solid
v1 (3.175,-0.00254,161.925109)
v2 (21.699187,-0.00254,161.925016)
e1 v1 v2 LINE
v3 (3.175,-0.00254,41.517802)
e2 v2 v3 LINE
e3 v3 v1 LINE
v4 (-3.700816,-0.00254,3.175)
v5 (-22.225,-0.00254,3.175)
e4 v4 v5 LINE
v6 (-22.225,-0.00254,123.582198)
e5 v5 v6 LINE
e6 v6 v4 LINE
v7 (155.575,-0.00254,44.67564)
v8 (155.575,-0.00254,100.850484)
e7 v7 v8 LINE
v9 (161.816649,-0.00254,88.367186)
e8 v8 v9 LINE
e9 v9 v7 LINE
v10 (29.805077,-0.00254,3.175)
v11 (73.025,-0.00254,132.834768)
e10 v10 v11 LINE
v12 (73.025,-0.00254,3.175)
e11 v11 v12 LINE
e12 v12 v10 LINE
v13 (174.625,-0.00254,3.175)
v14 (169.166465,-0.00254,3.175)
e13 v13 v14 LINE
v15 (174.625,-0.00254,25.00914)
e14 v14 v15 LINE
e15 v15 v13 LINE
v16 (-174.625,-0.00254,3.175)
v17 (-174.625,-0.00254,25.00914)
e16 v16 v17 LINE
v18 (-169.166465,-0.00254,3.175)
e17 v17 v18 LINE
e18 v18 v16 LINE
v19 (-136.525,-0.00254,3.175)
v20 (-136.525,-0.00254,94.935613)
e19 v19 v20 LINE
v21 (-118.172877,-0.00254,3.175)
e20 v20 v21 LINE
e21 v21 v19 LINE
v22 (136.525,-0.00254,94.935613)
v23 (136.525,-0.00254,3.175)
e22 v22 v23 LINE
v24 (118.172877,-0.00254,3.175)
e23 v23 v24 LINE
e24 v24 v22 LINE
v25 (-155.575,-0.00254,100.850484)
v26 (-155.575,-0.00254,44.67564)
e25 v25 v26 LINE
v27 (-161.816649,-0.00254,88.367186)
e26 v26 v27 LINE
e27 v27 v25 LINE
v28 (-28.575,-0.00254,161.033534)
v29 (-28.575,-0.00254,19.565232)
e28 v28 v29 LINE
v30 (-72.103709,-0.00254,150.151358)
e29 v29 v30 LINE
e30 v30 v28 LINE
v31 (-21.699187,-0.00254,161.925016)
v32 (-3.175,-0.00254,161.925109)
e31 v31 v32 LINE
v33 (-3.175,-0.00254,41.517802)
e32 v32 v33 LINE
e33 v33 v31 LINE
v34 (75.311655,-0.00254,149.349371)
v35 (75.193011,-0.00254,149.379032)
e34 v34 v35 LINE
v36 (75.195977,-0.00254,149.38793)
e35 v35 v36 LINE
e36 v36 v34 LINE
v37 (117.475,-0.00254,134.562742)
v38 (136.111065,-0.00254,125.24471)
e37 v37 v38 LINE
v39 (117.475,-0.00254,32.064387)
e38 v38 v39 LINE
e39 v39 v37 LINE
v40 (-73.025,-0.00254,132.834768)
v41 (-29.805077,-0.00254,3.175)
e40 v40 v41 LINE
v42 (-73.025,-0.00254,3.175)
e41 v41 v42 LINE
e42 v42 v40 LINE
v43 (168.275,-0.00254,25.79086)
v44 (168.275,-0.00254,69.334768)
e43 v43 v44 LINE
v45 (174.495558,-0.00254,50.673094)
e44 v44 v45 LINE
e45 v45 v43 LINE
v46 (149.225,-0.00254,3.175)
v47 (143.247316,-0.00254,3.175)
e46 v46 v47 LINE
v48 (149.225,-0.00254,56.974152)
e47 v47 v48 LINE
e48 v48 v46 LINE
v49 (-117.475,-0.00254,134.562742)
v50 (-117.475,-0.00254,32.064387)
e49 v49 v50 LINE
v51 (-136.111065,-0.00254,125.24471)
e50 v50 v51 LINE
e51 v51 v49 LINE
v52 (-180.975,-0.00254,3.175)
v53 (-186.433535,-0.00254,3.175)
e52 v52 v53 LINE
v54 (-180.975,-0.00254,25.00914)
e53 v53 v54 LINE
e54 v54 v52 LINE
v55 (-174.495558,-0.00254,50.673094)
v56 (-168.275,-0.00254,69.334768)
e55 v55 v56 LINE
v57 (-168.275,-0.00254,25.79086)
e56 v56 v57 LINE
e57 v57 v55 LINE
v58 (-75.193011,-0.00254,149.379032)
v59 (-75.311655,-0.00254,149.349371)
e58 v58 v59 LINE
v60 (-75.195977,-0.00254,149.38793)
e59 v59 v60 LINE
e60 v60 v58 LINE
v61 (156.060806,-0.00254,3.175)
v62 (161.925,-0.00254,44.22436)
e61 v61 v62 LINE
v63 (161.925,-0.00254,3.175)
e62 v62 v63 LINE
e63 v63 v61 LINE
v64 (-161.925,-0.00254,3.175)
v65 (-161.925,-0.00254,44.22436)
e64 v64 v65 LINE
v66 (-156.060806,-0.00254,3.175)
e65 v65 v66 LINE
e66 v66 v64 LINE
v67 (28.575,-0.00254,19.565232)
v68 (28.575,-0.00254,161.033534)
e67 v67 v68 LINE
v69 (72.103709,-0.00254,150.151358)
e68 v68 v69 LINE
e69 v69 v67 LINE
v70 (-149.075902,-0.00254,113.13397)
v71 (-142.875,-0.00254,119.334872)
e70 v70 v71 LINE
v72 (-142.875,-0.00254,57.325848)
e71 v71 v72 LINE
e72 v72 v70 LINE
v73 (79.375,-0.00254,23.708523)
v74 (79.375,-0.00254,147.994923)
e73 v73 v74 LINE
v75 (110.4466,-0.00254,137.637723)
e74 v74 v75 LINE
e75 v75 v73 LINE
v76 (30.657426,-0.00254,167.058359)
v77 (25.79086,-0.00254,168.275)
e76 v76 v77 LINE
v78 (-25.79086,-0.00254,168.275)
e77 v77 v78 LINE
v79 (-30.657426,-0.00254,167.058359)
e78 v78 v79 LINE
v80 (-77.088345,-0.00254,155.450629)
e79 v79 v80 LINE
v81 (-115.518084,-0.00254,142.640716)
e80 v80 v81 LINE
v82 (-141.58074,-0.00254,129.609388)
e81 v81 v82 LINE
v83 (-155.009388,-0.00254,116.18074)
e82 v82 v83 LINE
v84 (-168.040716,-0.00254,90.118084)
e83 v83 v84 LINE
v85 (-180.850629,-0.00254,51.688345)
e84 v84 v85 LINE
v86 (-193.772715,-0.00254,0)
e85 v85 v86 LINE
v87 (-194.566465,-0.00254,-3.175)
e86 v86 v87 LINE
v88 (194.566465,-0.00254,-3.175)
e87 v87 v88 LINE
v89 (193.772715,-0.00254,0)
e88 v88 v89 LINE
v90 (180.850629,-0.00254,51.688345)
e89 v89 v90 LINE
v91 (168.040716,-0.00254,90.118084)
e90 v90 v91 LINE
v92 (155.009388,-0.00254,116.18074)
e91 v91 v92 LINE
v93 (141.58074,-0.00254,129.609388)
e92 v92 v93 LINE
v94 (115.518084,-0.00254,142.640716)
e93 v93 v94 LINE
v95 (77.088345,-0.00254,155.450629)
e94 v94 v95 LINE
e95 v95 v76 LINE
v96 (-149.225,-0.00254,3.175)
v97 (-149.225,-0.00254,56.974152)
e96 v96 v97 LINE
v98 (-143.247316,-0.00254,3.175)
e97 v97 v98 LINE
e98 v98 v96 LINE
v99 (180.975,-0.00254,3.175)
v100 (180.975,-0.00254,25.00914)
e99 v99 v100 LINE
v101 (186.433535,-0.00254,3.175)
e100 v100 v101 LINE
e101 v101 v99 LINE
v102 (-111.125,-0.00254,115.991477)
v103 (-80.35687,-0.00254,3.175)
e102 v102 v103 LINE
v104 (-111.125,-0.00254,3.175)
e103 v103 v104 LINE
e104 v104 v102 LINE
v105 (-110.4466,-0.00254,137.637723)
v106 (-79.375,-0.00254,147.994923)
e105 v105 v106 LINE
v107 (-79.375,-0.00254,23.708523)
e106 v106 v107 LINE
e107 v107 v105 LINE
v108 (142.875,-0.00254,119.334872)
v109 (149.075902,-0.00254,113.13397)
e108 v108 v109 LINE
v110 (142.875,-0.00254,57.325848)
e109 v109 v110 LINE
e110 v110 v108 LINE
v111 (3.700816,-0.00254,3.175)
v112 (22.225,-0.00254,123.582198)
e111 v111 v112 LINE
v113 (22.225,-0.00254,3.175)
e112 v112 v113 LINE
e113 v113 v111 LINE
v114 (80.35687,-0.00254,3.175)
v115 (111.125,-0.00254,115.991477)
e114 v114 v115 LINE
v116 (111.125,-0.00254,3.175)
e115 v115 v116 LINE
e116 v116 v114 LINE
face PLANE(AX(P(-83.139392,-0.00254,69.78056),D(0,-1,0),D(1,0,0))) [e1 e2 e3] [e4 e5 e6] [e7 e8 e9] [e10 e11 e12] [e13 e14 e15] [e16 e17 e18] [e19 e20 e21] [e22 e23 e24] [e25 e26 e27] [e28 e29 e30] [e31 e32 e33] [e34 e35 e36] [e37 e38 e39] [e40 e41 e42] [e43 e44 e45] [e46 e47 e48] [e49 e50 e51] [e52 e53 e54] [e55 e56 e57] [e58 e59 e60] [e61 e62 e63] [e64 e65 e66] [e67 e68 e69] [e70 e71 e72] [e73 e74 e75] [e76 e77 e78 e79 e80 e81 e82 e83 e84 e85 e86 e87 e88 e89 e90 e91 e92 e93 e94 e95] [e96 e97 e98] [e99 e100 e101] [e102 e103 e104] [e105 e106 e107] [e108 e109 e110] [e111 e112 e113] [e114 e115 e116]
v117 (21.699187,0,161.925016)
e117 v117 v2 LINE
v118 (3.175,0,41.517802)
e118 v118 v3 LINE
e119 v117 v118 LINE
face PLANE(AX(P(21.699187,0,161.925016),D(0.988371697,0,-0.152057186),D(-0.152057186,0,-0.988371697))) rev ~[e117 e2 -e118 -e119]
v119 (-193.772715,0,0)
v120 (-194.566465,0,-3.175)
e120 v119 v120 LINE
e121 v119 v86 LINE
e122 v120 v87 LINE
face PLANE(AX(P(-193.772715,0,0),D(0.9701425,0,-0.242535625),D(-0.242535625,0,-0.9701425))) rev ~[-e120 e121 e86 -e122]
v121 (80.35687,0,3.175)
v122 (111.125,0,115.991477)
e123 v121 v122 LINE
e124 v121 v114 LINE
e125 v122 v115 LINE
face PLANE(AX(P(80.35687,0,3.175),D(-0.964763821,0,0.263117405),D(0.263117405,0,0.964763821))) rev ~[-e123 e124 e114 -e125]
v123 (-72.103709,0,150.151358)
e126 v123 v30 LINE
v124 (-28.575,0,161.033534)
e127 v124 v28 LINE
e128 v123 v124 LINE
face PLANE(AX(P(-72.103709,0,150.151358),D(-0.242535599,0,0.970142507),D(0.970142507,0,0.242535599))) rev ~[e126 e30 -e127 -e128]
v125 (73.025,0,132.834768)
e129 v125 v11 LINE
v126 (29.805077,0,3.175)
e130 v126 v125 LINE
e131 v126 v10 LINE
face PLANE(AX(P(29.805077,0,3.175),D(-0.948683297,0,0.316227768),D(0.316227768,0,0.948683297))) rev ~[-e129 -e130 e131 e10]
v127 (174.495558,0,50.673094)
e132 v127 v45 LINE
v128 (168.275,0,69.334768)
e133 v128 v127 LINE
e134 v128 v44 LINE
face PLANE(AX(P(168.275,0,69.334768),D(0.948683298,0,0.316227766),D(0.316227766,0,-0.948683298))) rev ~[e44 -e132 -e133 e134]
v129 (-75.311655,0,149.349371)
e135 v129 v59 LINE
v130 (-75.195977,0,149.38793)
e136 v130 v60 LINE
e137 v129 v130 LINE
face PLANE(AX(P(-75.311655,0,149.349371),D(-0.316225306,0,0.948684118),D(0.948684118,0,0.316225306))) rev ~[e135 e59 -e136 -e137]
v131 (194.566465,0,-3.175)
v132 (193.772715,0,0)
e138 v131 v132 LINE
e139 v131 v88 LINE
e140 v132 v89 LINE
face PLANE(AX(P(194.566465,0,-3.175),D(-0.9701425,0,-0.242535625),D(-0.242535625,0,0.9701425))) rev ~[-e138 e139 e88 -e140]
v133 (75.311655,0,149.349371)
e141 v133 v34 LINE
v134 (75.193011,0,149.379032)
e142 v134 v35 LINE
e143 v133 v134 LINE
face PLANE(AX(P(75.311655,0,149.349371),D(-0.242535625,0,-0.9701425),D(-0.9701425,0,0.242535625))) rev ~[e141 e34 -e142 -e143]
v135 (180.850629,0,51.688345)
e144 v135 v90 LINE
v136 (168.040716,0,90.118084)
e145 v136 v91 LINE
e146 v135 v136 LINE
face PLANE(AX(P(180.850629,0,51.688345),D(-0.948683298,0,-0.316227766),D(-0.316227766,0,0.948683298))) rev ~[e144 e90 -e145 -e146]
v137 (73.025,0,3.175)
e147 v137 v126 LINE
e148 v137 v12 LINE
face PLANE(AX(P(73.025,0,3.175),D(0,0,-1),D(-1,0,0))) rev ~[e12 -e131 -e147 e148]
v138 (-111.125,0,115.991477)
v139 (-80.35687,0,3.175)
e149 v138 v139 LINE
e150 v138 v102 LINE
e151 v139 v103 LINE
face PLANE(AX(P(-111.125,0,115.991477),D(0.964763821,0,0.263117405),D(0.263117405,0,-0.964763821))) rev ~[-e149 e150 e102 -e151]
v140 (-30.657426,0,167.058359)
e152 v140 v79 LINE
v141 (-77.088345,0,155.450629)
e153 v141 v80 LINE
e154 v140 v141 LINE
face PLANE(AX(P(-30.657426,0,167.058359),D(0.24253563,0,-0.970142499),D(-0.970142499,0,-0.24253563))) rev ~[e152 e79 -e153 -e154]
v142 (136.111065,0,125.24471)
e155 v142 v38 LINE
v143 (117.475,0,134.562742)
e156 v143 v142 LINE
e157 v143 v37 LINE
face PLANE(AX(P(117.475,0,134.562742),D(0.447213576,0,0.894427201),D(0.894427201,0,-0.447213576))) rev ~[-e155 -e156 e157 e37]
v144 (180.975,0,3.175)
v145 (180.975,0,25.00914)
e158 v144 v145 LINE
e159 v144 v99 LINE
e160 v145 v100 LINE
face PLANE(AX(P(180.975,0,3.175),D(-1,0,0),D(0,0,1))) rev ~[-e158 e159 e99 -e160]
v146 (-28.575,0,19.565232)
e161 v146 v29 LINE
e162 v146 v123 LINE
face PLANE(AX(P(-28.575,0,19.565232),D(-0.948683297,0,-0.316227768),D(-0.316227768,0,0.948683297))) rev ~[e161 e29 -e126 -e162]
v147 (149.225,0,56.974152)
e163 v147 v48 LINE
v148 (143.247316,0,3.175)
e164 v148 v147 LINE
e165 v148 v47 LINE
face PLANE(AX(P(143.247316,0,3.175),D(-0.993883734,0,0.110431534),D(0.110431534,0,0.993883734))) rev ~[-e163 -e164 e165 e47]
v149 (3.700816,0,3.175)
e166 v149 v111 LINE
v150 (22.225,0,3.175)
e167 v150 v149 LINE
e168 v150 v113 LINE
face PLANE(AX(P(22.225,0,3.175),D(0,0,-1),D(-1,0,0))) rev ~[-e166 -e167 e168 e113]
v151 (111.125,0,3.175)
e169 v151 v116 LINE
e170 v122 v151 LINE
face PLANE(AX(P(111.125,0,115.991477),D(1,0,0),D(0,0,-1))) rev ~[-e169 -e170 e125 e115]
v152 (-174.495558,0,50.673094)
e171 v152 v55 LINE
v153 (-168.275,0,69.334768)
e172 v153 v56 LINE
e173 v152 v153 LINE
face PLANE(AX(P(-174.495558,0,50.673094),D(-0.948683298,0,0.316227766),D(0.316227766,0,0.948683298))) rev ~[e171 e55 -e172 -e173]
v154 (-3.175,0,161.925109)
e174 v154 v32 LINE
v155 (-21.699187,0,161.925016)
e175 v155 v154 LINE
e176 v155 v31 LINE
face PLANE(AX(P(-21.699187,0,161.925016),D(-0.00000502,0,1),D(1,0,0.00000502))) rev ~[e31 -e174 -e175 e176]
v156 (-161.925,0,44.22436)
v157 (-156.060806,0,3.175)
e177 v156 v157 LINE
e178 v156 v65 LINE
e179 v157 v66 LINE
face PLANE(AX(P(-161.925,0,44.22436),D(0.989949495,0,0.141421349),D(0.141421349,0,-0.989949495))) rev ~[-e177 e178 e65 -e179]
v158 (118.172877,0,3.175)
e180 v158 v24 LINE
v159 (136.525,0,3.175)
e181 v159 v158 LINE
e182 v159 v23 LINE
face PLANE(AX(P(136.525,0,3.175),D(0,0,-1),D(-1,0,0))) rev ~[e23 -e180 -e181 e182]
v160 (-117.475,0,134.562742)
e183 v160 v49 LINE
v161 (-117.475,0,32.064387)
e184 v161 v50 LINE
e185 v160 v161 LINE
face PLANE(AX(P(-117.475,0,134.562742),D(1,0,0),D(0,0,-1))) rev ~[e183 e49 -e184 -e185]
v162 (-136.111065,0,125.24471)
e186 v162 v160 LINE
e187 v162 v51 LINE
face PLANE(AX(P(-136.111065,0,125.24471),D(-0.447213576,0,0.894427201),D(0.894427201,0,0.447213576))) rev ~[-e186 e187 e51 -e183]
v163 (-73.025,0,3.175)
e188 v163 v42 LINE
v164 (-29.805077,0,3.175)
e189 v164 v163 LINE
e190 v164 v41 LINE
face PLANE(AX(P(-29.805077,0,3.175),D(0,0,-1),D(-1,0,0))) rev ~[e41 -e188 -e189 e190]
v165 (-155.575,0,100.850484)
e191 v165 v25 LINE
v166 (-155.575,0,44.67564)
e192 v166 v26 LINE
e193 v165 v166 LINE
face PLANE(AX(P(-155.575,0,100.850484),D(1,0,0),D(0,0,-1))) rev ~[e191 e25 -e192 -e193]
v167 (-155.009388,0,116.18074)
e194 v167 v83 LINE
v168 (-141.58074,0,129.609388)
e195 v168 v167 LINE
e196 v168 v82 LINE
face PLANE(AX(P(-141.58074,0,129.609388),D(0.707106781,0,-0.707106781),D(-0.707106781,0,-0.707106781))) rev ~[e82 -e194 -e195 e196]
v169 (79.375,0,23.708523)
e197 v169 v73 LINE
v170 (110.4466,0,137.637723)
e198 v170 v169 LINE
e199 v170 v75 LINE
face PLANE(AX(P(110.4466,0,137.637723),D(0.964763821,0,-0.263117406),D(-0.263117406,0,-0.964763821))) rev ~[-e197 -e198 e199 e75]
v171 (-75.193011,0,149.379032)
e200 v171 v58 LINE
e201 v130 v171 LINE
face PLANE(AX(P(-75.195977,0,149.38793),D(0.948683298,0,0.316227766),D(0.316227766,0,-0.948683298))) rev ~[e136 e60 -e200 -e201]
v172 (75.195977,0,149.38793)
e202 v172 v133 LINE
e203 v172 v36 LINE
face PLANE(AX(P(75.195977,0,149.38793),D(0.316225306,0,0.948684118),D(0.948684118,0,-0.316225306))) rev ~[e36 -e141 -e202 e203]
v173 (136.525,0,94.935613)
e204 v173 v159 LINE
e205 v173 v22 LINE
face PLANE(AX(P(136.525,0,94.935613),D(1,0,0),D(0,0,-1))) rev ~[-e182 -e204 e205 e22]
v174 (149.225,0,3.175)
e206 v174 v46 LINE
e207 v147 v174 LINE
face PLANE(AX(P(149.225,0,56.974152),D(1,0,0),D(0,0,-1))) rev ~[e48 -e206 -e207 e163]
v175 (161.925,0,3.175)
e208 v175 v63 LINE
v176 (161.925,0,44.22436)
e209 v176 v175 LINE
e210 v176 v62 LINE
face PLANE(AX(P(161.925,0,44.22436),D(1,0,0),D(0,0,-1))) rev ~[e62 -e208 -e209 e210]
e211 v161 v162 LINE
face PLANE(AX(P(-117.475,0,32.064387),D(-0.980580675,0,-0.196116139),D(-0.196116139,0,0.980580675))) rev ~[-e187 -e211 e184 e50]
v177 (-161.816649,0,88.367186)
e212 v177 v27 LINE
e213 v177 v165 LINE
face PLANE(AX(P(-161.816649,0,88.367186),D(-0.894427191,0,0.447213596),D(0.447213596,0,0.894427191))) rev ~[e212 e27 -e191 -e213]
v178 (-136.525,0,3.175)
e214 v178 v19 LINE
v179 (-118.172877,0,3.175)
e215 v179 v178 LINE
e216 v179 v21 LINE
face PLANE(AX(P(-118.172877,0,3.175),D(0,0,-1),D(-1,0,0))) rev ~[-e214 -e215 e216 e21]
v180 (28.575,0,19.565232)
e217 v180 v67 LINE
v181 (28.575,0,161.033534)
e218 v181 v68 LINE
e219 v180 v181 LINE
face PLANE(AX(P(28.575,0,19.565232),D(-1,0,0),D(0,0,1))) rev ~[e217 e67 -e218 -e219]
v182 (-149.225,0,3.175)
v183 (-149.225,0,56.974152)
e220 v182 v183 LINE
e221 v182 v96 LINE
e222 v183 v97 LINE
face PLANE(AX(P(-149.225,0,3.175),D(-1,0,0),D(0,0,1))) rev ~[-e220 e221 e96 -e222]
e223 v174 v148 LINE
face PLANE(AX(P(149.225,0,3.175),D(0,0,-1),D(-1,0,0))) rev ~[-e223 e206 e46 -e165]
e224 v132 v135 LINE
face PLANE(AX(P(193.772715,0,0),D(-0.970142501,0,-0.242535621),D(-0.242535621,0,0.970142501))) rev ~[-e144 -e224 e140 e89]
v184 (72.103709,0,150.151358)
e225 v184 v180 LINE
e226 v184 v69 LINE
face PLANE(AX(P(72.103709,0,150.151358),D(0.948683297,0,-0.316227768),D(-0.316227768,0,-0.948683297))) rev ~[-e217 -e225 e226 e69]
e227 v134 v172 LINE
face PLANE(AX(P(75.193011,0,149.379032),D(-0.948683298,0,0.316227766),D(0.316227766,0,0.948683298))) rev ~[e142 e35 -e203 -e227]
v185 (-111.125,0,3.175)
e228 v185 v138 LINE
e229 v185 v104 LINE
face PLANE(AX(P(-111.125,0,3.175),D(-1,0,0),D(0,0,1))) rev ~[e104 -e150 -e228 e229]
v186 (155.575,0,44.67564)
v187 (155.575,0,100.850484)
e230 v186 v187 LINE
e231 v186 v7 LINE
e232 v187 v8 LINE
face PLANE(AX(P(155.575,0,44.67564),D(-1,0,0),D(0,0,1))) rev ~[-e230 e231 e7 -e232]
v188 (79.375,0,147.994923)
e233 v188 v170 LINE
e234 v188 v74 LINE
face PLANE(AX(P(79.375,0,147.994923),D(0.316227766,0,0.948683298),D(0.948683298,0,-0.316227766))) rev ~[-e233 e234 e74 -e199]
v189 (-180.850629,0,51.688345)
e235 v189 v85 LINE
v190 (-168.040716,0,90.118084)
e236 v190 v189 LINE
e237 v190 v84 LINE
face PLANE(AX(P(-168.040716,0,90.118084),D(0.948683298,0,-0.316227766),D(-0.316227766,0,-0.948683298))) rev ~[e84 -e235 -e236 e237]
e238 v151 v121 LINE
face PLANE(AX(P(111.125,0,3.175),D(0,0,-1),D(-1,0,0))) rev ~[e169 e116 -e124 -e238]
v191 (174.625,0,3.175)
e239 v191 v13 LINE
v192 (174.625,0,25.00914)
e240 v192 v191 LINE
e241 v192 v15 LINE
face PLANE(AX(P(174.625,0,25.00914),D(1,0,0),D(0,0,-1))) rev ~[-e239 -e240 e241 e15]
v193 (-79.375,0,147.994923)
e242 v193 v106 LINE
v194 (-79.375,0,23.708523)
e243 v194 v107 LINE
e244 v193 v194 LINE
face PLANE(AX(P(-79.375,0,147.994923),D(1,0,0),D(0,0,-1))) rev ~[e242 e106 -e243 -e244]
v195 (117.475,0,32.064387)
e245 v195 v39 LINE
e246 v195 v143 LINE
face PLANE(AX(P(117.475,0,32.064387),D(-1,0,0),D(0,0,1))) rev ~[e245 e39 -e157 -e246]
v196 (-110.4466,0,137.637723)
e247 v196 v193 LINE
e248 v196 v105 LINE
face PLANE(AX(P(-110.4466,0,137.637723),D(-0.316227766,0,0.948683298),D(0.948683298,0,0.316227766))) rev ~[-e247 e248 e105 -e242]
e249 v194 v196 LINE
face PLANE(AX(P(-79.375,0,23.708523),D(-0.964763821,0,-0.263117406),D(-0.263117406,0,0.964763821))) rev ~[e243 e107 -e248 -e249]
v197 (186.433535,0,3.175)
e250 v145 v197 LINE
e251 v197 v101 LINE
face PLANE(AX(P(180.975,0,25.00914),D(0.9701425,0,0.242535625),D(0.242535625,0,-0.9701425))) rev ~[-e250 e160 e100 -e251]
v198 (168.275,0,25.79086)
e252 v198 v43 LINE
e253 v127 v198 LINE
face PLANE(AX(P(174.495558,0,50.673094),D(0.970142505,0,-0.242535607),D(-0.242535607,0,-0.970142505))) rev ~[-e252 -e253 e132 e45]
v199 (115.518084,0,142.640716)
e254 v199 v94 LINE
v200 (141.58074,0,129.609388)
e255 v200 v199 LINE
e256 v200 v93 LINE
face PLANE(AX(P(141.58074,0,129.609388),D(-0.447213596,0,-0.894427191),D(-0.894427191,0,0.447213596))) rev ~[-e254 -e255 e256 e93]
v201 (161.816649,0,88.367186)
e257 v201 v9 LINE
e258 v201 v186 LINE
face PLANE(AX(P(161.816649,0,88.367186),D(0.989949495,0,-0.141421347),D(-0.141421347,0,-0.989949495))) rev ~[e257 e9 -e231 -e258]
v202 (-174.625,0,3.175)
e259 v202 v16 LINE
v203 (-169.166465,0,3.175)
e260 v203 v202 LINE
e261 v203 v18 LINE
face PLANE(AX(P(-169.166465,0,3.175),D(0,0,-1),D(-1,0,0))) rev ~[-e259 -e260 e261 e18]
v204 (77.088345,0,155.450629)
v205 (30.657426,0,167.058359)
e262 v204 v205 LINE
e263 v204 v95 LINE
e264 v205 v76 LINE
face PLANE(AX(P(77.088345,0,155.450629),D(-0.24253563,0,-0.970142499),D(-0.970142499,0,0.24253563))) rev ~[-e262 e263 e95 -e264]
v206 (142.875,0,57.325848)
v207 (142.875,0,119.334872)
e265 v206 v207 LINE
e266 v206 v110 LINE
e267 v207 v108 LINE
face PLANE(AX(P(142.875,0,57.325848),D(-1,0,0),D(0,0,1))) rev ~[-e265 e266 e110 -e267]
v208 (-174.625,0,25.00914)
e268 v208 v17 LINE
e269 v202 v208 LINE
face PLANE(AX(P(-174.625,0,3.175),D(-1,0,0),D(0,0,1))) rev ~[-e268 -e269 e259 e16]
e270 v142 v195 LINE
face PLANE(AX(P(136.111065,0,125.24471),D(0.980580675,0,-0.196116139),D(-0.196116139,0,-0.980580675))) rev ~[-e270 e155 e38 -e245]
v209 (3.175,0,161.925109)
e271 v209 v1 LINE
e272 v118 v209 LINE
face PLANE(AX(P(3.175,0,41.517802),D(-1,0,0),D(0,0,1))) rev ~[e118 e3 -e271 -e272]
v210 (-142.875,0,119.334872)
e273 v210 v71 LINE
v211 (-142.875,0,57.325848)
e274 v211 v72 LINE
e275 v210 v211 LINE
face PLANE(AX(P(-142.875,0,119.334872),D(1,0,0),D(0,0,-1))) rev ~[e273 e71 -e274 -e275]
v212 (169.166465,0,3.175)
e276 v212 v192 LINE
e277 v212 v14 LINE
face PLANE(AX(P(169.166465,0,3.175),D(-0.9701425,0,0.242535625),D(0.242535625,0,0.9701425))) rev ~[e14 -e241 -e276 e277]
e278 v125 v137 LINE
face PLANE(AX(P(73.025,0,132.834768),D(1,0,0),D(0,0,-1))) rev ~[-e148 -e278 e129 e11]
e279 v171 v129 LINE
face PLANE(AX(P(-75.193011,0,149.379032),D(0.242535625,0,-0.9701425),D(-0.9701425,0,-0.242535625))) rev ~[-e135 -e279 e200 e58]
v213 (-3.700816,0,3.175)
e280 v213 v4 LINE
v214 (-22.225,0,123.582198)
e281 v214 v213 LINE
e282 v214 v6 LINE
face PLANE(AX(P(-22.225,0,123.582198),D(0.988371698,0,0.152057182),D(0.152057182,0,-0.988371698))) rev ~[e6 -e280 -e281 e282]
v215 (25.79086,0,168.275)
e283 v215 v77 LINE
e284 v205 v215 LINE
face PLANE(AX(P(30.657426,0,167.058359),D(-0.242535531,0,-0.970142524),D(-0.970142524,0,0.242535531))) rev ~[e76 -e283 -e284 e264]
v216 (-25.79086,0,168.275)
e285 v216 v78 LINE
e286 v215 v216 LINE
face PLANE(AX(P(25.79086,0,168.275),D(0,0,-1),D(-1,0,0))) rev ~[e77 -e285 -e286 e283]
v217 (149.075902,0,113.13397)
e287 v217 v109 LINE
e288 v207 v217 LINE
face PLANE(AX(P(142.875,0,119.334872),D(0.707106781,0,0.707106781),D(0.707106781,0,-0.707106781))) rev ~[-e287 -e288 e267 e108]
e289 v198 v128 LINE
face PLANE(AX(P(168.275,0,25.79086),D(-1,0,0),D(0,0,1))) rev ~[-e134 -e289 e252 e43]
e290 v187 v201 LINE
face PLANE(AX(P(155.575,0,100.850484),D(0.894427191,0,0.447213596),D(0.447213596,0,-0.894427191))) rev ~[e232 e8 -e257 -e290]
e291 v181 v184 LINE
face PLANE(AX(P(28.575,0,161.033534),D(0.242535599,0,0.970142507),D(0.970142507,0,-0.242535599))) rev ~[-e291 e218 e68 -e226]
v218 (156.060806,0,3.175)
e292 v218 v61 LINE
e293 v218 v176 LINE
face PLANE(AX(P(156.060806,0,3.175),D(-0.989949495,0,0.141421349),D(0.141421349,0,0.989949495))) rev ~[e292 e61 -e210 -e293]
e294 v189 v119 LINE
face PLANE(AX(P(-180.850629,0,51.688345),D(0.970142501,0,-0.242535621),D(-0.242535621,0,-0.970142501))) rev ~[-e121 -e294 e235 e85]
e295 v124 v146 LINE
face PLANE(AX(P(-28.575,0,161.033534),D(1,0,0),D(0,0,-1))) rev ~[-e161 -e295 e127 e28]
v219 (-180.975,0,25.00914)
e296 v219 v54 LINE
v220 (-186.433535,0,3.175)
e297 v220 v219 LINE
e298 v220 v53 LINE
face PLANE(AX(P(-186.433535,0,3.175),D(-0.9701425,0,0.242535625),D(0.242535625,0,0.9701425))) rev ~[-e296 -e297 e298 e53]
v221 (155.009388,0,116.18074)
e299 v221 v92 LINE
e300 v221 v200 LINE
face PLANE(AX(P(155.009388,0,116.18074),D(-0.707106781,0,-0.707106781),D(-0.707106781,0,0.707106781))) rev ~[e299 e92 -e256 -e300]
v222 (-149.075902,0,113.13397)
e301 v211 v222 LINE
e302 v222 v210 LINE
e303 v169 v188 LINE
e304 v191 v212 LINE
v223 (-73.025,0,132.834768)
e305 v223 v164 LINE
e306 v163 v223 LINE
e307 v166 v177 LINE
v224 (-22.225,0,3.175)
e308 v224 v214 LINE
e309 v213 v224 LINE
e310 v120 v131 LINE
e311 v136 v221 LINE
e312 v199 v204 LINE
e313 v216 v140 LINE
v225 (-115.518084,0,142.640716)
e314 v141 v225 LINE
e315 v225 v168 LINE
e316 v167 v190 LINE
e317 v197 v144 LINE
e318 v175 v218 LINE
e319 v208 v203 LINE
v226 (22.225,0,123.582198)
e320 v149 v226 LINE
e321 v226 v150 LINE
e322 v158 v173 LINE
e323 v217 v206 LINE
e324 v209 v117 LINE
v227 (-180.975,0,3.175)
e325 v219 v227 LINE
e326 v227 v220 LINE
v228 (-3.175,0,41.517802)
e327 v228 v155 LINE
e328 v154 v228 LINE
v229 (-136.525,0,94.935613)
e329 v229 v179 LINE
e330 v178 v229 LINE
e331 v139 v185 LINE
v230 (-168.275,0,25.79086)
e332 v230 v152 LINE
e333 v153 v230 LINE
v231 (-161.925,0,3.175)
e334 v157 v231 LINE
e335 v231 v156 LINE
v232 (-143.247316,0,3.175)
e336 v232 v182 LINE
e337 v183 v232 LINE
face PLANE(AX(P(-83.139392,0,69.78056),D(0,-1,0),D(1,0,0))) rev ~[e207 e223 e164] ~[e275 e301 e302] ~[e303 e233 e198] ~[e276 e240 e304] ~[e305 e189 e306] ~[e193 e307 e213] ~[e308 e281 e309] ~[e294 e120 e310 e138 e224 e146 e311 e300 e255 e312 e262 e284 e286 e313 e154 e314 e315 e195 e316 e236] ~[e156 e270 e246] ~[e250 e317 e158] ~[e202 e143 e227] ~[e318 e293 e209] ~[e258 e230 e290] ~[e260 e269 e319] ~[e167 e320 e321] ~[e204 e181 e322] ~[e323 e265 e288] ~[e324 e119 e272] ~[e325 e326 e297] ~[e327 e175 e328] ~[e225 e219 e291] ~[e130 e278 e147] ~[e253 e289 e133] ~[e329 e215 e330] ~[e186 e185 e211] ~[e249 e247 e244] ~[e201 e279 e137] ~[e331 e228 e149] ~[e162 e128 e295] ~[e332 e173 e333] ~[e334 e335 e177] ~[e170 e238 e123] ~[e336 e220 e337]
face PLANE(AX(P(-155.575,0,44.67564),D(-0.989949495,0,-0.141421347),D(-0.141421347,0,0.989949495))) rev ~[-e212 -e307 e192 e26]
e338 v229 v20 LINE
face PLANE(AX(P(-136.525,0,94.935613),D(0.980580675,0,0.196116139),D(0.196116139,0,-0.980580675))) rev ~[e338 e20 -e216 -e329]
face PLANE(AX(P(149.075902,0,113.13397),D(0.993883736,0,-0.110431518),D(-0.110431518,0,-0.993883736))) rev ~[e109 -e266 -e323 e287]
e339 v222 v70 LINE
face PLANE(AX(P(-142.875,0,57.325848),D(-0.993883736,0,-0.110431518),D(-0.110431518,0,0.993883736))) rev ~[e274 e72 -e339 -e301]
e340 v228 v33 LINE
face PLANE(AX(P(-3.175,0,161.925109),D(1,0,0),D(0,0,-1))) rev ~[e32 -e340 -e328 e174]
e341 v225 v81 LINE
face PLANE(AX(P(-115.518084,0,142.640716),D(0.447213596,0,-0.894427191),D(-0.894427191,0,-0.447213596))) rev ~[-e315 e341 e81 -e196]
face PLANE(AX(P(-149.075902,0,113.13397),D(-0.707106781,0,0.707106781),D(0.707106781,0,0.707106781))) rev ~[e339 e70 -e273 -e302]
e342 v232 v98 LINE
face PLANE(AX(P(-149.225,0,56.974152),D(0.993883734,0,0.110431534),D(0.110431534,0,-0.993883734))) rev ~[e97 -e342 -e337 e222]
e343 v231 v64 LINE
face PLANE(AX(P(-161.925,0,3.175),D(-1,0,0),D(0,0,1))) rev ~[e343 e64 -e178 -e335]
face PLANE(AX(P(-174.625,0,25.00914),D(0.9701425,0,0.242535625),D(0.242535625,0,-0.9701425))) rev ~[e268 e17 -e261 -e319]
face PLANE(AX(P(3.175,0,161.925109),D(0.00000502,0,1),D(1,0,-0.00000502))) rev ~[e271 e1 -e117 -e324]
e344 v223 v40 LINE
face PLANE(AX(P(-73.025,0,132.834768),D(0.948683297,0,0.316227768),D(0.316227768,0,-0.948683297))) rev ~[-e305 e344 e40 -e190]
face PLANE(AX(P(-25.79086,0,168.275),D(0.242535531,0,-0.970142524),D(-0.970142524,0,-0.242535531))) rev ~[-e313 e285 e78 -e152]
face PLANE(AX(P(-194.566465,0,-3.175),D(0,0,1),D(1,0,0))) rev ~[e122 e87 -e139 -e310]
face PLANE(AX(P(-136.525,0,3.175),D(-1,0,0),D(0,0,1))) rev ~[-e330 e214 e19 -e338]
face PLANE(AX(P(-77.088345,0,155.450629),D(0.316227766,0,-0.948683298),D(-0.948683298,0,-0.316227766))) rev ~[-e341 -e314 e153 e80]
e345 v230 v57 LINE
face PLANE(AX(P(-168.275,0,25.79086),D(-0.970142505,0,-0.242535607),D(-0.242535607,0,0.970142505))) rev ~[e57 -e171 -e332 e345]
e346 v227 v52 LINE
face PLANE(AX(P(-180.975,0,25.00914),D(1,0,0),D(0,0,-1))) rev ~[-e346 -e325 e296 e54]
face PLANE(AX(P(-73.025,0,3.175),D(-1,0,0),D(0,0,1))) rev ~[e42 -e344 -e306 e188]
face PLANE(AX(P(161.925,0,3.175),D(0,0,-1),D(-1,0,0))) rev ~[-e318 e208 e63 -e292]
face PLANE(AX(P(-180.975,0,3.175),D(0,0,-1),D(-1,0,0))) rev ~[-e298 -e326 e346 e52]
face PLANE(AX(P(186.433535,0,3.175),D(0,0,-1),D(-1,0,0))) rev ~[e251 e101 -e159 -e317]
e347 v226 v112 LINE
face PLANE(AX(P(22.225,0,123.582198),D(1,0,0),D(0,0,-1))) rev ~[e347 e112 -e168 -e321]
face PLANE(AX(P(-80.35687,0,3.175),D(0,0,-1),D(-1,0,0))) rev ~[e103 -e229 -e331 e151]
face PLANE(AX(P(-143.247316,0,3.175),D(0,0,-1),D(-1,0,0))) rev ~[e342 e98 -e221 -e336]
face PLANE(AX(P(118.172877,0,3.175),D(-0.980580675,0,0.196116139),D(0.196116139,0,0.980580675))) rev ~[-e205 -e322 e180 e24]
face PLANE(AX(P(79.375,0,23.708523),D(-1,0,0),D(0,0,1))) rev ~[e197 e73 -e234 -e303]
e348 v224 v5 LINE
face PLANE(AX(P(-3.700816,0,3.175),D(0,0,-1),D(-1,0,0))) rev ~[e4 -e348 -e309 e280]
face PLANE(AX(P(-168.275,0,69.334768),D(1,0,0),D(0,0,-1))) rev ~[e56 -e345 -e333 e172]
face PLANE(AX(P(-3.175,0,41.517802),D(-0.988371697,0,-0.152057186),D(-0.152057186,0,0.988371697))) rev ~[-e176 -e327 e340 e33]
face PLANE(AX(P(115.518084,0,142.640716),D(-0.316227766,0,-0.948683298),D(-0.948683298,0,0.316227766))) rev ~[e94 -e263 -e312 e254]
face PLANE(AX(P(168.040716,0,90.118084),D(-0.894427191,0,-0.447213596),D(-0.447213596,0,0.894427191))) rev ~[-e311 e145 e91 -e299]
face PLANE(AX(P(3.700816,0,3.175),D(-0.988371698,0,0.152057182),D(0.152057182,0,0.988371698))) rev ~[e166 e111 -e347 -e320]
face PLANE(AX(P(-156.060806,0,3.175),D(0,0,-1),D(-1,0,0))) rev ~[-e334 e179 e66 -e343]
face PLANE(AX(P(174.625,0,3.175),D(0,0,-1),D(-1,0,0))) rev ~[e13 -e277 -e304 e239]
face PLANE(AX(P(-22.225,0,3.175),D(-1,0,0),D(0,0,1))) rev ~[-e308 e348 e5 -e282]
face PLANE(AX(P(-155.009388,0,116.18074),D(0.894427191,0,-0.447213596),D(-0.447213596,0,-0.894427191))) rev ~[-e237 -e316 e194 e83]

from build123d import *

# Parameters (mm, degrees)
F1_DEPTH = 0.00254


with BuildPart() as f1:
    # F0 (on Front) → F1 (new body)
    with BuildSketch(Plane.XZ):
        Polygon((0, -3.175), (0, 0), (0, 165.1), (0, 168.275), (-25.79086, 168.275), (-30.657426, 167.058359), (-77.088345, 155.450629), (-115.518084, 142.640716), (-119.911346, 140.444085), (-141.58074, 129.609388), (-155.009388, 116.18074), (-168.040716, 90.118084), (-180.850629, 51.688345), (-193.772715, 0), (-194.566465, -3.175), align=None)
        Polygon((-180.975, 3.175), (-186.433535, 3.175), (-180.975, 25.00914), align=None, mode=Mode.SUBTRACT)
        Polygon((-169.166465, 3.175), (-174.625, 3.175), (-174.625, 25.00914), align=None, mode=Mode.SUBTRACT)
        Polygon((-161.925, 3.175), (-161.925, 44.22436), (-156.060806, 3.175), align=None, mode=Mode.SUBTRACT)
        Polygon((-149.225, 56.974152), (-143.247316, 3.175), (-149.225, 3.175), align=None, mode=Mode.SUBTRACT)
        Polygon((-168.275, 25.79086), (-174.495558, 50.673094), (-168.275, 69.334768), align=None, mode=Mode.SUBTRACT)
        Polygon((-136.525, 3.175), (-136.525, 94.935613), (-118.172877, 3.175), align=None, mode=Mode.SUBTRACT)
        Polygon((-155.575, 44.67564), (-161.816649, 88.367186), (-155.575, 100.850484), align=None, mode=Mode.SUBTRACT)
        Polygon((-80.35687, 3.175), (-111.125, 3.175), (-111.125, 115.991477), align=None, mode=Mode.SUBTRACT)
        Polygon((-73.025, 3.175), (-73.025, 132.834768), (-29.805077, 3.175), align=None, mode=Mode.SUBTRACT)
        Polygon((-3.700816, 3.175), (-22.225, 3.175), (-22.225, 123.582198), align=None, mode=Mode.SUBTRACT)
        Polygon((-142.875, 57.325848), (-149.075902, 113.13397), (-142.875, 119.334872), align=None, mode=Mode.SUBTRACT)
        Polygon((-117.475, 32.064387), (-136.111065, 125.24471), (-117.475, 134.562742), align=None, mode=Mode.SUBTRACT)
        Polygon((-79.375, 23.708523), (-110.4466, 137.637723), (-79.375, 147.994923), align=None, mode=Mode.SUBTRACT)
        Polygon((-72.103709, 150.151358), (-28.575, 161.033534), (-28.575, 19.565232), align=None, mode=Mode.SUBTRACT)
        Polygon((-21.699187, 161.925016), (-3.175, 161.925109), (-3.175, 41.517802), align=None, mode=Mode.SUBTRACT)
        Polygon((-75.311655, 149.349371), (-75.195977, 149.38793), (-75.193011, 149.379032), align=None, mode=Mode.SUBTRACT)
        Polygon((0, 165.1), (0, 0), (0, -3.175), (194.566465, -3.175), (193.772715, 0), (180.850629, 51.688345), (168.040716, 90.118084), (155.009388, 116.18074), (141.58074, 129.609388), (119.911346, 140.444085), (115.518084, 142.640716), (77.088345, 155.450629), (30.657426, 167.058359), (25.79086, 168.275), (0, 168.275), align=None)
        Polygon((174.625, 25.00914), (174.625, 3.175), (169.166465, 3.175), align=None, mode=Mode.SUBTRACT)
        Polygon((180.975, 25.00914), (186.433535, 3.175), (180.975, 3.175), align=None, mode=Mode.SUBTRACT)
        Polygon((161.925, 44.22436), (161.925, 3.175), (156.060806, 3.175), align=None, mode=Mode.SUBTRACT)
        Polygon((149.225, 56.974152), (149.225, 3.175), (143.247316, 3.175), align=None, mode=Mode.SUBTRACT)
        Polygon((111.125, 115.991477), (111.125, 3.175), (80.35687, 3.175), align=None, mode=Mode.SUBTRACT)
        Polygon((3.700816, 3.175), (22.225, 123.582198), (22.225, 3.175), align=None, mode=Mode.SUBTRACT)
        Polygon((73.025, 3.175), (29.805077, 3.175), (73.025, 132.834768), align=None, mode=Mode.SUBTRACT)
        Polygon((118.172877, 3.175), (136.525, 94.935613), (136.525, 3.175), align=None, mode=Mode.SUBTRACT)
        Polygon((174.495558, 50.673094), (168.275, 25.79086), (168.275, 69.334768), align=None, mode=Mode.SUBTRACT)
        Polygon((155.575, 100.850484), (161.816649, 88.367186), (155.575, 44.67564), align=None, mode=Mode.SUBTRACT)
        Polygon((21.699187, 161.925016), (3.175, 41.517802), (3.175, 161.925109), align=None, mode=Mode.SUBTRACT)
        Polygon((28.575, 161.033534), (72.103709, 150.151358), (28.575, 19.565232), align=None, mode=Mode.SUBTRACT)
        Polygon((110.4466, 137.637723), (79.375, 23.708523), (79.375, 147.994923), align=None, mode=Mode.SUBTRACT)
        Polygon((117.475, 32.064387), (117.475, 134.562742), (136.111065, 125.24471), align=None, mode=Mode.SUBTRACT)
        Polygon((142.875, 119.334872), (149.075902, 113.13397), (142.875, 57.325848), align=None, mode=Mode.SUBTRACT)
        Polygon((75.193011, 149.379032), (75.195977, 149.38793), (75.311655, 149.349371), align=None, mode=Mode.SUBTRACT)
    extrude(amount=F1_DEPTH)


solid = f1.part
